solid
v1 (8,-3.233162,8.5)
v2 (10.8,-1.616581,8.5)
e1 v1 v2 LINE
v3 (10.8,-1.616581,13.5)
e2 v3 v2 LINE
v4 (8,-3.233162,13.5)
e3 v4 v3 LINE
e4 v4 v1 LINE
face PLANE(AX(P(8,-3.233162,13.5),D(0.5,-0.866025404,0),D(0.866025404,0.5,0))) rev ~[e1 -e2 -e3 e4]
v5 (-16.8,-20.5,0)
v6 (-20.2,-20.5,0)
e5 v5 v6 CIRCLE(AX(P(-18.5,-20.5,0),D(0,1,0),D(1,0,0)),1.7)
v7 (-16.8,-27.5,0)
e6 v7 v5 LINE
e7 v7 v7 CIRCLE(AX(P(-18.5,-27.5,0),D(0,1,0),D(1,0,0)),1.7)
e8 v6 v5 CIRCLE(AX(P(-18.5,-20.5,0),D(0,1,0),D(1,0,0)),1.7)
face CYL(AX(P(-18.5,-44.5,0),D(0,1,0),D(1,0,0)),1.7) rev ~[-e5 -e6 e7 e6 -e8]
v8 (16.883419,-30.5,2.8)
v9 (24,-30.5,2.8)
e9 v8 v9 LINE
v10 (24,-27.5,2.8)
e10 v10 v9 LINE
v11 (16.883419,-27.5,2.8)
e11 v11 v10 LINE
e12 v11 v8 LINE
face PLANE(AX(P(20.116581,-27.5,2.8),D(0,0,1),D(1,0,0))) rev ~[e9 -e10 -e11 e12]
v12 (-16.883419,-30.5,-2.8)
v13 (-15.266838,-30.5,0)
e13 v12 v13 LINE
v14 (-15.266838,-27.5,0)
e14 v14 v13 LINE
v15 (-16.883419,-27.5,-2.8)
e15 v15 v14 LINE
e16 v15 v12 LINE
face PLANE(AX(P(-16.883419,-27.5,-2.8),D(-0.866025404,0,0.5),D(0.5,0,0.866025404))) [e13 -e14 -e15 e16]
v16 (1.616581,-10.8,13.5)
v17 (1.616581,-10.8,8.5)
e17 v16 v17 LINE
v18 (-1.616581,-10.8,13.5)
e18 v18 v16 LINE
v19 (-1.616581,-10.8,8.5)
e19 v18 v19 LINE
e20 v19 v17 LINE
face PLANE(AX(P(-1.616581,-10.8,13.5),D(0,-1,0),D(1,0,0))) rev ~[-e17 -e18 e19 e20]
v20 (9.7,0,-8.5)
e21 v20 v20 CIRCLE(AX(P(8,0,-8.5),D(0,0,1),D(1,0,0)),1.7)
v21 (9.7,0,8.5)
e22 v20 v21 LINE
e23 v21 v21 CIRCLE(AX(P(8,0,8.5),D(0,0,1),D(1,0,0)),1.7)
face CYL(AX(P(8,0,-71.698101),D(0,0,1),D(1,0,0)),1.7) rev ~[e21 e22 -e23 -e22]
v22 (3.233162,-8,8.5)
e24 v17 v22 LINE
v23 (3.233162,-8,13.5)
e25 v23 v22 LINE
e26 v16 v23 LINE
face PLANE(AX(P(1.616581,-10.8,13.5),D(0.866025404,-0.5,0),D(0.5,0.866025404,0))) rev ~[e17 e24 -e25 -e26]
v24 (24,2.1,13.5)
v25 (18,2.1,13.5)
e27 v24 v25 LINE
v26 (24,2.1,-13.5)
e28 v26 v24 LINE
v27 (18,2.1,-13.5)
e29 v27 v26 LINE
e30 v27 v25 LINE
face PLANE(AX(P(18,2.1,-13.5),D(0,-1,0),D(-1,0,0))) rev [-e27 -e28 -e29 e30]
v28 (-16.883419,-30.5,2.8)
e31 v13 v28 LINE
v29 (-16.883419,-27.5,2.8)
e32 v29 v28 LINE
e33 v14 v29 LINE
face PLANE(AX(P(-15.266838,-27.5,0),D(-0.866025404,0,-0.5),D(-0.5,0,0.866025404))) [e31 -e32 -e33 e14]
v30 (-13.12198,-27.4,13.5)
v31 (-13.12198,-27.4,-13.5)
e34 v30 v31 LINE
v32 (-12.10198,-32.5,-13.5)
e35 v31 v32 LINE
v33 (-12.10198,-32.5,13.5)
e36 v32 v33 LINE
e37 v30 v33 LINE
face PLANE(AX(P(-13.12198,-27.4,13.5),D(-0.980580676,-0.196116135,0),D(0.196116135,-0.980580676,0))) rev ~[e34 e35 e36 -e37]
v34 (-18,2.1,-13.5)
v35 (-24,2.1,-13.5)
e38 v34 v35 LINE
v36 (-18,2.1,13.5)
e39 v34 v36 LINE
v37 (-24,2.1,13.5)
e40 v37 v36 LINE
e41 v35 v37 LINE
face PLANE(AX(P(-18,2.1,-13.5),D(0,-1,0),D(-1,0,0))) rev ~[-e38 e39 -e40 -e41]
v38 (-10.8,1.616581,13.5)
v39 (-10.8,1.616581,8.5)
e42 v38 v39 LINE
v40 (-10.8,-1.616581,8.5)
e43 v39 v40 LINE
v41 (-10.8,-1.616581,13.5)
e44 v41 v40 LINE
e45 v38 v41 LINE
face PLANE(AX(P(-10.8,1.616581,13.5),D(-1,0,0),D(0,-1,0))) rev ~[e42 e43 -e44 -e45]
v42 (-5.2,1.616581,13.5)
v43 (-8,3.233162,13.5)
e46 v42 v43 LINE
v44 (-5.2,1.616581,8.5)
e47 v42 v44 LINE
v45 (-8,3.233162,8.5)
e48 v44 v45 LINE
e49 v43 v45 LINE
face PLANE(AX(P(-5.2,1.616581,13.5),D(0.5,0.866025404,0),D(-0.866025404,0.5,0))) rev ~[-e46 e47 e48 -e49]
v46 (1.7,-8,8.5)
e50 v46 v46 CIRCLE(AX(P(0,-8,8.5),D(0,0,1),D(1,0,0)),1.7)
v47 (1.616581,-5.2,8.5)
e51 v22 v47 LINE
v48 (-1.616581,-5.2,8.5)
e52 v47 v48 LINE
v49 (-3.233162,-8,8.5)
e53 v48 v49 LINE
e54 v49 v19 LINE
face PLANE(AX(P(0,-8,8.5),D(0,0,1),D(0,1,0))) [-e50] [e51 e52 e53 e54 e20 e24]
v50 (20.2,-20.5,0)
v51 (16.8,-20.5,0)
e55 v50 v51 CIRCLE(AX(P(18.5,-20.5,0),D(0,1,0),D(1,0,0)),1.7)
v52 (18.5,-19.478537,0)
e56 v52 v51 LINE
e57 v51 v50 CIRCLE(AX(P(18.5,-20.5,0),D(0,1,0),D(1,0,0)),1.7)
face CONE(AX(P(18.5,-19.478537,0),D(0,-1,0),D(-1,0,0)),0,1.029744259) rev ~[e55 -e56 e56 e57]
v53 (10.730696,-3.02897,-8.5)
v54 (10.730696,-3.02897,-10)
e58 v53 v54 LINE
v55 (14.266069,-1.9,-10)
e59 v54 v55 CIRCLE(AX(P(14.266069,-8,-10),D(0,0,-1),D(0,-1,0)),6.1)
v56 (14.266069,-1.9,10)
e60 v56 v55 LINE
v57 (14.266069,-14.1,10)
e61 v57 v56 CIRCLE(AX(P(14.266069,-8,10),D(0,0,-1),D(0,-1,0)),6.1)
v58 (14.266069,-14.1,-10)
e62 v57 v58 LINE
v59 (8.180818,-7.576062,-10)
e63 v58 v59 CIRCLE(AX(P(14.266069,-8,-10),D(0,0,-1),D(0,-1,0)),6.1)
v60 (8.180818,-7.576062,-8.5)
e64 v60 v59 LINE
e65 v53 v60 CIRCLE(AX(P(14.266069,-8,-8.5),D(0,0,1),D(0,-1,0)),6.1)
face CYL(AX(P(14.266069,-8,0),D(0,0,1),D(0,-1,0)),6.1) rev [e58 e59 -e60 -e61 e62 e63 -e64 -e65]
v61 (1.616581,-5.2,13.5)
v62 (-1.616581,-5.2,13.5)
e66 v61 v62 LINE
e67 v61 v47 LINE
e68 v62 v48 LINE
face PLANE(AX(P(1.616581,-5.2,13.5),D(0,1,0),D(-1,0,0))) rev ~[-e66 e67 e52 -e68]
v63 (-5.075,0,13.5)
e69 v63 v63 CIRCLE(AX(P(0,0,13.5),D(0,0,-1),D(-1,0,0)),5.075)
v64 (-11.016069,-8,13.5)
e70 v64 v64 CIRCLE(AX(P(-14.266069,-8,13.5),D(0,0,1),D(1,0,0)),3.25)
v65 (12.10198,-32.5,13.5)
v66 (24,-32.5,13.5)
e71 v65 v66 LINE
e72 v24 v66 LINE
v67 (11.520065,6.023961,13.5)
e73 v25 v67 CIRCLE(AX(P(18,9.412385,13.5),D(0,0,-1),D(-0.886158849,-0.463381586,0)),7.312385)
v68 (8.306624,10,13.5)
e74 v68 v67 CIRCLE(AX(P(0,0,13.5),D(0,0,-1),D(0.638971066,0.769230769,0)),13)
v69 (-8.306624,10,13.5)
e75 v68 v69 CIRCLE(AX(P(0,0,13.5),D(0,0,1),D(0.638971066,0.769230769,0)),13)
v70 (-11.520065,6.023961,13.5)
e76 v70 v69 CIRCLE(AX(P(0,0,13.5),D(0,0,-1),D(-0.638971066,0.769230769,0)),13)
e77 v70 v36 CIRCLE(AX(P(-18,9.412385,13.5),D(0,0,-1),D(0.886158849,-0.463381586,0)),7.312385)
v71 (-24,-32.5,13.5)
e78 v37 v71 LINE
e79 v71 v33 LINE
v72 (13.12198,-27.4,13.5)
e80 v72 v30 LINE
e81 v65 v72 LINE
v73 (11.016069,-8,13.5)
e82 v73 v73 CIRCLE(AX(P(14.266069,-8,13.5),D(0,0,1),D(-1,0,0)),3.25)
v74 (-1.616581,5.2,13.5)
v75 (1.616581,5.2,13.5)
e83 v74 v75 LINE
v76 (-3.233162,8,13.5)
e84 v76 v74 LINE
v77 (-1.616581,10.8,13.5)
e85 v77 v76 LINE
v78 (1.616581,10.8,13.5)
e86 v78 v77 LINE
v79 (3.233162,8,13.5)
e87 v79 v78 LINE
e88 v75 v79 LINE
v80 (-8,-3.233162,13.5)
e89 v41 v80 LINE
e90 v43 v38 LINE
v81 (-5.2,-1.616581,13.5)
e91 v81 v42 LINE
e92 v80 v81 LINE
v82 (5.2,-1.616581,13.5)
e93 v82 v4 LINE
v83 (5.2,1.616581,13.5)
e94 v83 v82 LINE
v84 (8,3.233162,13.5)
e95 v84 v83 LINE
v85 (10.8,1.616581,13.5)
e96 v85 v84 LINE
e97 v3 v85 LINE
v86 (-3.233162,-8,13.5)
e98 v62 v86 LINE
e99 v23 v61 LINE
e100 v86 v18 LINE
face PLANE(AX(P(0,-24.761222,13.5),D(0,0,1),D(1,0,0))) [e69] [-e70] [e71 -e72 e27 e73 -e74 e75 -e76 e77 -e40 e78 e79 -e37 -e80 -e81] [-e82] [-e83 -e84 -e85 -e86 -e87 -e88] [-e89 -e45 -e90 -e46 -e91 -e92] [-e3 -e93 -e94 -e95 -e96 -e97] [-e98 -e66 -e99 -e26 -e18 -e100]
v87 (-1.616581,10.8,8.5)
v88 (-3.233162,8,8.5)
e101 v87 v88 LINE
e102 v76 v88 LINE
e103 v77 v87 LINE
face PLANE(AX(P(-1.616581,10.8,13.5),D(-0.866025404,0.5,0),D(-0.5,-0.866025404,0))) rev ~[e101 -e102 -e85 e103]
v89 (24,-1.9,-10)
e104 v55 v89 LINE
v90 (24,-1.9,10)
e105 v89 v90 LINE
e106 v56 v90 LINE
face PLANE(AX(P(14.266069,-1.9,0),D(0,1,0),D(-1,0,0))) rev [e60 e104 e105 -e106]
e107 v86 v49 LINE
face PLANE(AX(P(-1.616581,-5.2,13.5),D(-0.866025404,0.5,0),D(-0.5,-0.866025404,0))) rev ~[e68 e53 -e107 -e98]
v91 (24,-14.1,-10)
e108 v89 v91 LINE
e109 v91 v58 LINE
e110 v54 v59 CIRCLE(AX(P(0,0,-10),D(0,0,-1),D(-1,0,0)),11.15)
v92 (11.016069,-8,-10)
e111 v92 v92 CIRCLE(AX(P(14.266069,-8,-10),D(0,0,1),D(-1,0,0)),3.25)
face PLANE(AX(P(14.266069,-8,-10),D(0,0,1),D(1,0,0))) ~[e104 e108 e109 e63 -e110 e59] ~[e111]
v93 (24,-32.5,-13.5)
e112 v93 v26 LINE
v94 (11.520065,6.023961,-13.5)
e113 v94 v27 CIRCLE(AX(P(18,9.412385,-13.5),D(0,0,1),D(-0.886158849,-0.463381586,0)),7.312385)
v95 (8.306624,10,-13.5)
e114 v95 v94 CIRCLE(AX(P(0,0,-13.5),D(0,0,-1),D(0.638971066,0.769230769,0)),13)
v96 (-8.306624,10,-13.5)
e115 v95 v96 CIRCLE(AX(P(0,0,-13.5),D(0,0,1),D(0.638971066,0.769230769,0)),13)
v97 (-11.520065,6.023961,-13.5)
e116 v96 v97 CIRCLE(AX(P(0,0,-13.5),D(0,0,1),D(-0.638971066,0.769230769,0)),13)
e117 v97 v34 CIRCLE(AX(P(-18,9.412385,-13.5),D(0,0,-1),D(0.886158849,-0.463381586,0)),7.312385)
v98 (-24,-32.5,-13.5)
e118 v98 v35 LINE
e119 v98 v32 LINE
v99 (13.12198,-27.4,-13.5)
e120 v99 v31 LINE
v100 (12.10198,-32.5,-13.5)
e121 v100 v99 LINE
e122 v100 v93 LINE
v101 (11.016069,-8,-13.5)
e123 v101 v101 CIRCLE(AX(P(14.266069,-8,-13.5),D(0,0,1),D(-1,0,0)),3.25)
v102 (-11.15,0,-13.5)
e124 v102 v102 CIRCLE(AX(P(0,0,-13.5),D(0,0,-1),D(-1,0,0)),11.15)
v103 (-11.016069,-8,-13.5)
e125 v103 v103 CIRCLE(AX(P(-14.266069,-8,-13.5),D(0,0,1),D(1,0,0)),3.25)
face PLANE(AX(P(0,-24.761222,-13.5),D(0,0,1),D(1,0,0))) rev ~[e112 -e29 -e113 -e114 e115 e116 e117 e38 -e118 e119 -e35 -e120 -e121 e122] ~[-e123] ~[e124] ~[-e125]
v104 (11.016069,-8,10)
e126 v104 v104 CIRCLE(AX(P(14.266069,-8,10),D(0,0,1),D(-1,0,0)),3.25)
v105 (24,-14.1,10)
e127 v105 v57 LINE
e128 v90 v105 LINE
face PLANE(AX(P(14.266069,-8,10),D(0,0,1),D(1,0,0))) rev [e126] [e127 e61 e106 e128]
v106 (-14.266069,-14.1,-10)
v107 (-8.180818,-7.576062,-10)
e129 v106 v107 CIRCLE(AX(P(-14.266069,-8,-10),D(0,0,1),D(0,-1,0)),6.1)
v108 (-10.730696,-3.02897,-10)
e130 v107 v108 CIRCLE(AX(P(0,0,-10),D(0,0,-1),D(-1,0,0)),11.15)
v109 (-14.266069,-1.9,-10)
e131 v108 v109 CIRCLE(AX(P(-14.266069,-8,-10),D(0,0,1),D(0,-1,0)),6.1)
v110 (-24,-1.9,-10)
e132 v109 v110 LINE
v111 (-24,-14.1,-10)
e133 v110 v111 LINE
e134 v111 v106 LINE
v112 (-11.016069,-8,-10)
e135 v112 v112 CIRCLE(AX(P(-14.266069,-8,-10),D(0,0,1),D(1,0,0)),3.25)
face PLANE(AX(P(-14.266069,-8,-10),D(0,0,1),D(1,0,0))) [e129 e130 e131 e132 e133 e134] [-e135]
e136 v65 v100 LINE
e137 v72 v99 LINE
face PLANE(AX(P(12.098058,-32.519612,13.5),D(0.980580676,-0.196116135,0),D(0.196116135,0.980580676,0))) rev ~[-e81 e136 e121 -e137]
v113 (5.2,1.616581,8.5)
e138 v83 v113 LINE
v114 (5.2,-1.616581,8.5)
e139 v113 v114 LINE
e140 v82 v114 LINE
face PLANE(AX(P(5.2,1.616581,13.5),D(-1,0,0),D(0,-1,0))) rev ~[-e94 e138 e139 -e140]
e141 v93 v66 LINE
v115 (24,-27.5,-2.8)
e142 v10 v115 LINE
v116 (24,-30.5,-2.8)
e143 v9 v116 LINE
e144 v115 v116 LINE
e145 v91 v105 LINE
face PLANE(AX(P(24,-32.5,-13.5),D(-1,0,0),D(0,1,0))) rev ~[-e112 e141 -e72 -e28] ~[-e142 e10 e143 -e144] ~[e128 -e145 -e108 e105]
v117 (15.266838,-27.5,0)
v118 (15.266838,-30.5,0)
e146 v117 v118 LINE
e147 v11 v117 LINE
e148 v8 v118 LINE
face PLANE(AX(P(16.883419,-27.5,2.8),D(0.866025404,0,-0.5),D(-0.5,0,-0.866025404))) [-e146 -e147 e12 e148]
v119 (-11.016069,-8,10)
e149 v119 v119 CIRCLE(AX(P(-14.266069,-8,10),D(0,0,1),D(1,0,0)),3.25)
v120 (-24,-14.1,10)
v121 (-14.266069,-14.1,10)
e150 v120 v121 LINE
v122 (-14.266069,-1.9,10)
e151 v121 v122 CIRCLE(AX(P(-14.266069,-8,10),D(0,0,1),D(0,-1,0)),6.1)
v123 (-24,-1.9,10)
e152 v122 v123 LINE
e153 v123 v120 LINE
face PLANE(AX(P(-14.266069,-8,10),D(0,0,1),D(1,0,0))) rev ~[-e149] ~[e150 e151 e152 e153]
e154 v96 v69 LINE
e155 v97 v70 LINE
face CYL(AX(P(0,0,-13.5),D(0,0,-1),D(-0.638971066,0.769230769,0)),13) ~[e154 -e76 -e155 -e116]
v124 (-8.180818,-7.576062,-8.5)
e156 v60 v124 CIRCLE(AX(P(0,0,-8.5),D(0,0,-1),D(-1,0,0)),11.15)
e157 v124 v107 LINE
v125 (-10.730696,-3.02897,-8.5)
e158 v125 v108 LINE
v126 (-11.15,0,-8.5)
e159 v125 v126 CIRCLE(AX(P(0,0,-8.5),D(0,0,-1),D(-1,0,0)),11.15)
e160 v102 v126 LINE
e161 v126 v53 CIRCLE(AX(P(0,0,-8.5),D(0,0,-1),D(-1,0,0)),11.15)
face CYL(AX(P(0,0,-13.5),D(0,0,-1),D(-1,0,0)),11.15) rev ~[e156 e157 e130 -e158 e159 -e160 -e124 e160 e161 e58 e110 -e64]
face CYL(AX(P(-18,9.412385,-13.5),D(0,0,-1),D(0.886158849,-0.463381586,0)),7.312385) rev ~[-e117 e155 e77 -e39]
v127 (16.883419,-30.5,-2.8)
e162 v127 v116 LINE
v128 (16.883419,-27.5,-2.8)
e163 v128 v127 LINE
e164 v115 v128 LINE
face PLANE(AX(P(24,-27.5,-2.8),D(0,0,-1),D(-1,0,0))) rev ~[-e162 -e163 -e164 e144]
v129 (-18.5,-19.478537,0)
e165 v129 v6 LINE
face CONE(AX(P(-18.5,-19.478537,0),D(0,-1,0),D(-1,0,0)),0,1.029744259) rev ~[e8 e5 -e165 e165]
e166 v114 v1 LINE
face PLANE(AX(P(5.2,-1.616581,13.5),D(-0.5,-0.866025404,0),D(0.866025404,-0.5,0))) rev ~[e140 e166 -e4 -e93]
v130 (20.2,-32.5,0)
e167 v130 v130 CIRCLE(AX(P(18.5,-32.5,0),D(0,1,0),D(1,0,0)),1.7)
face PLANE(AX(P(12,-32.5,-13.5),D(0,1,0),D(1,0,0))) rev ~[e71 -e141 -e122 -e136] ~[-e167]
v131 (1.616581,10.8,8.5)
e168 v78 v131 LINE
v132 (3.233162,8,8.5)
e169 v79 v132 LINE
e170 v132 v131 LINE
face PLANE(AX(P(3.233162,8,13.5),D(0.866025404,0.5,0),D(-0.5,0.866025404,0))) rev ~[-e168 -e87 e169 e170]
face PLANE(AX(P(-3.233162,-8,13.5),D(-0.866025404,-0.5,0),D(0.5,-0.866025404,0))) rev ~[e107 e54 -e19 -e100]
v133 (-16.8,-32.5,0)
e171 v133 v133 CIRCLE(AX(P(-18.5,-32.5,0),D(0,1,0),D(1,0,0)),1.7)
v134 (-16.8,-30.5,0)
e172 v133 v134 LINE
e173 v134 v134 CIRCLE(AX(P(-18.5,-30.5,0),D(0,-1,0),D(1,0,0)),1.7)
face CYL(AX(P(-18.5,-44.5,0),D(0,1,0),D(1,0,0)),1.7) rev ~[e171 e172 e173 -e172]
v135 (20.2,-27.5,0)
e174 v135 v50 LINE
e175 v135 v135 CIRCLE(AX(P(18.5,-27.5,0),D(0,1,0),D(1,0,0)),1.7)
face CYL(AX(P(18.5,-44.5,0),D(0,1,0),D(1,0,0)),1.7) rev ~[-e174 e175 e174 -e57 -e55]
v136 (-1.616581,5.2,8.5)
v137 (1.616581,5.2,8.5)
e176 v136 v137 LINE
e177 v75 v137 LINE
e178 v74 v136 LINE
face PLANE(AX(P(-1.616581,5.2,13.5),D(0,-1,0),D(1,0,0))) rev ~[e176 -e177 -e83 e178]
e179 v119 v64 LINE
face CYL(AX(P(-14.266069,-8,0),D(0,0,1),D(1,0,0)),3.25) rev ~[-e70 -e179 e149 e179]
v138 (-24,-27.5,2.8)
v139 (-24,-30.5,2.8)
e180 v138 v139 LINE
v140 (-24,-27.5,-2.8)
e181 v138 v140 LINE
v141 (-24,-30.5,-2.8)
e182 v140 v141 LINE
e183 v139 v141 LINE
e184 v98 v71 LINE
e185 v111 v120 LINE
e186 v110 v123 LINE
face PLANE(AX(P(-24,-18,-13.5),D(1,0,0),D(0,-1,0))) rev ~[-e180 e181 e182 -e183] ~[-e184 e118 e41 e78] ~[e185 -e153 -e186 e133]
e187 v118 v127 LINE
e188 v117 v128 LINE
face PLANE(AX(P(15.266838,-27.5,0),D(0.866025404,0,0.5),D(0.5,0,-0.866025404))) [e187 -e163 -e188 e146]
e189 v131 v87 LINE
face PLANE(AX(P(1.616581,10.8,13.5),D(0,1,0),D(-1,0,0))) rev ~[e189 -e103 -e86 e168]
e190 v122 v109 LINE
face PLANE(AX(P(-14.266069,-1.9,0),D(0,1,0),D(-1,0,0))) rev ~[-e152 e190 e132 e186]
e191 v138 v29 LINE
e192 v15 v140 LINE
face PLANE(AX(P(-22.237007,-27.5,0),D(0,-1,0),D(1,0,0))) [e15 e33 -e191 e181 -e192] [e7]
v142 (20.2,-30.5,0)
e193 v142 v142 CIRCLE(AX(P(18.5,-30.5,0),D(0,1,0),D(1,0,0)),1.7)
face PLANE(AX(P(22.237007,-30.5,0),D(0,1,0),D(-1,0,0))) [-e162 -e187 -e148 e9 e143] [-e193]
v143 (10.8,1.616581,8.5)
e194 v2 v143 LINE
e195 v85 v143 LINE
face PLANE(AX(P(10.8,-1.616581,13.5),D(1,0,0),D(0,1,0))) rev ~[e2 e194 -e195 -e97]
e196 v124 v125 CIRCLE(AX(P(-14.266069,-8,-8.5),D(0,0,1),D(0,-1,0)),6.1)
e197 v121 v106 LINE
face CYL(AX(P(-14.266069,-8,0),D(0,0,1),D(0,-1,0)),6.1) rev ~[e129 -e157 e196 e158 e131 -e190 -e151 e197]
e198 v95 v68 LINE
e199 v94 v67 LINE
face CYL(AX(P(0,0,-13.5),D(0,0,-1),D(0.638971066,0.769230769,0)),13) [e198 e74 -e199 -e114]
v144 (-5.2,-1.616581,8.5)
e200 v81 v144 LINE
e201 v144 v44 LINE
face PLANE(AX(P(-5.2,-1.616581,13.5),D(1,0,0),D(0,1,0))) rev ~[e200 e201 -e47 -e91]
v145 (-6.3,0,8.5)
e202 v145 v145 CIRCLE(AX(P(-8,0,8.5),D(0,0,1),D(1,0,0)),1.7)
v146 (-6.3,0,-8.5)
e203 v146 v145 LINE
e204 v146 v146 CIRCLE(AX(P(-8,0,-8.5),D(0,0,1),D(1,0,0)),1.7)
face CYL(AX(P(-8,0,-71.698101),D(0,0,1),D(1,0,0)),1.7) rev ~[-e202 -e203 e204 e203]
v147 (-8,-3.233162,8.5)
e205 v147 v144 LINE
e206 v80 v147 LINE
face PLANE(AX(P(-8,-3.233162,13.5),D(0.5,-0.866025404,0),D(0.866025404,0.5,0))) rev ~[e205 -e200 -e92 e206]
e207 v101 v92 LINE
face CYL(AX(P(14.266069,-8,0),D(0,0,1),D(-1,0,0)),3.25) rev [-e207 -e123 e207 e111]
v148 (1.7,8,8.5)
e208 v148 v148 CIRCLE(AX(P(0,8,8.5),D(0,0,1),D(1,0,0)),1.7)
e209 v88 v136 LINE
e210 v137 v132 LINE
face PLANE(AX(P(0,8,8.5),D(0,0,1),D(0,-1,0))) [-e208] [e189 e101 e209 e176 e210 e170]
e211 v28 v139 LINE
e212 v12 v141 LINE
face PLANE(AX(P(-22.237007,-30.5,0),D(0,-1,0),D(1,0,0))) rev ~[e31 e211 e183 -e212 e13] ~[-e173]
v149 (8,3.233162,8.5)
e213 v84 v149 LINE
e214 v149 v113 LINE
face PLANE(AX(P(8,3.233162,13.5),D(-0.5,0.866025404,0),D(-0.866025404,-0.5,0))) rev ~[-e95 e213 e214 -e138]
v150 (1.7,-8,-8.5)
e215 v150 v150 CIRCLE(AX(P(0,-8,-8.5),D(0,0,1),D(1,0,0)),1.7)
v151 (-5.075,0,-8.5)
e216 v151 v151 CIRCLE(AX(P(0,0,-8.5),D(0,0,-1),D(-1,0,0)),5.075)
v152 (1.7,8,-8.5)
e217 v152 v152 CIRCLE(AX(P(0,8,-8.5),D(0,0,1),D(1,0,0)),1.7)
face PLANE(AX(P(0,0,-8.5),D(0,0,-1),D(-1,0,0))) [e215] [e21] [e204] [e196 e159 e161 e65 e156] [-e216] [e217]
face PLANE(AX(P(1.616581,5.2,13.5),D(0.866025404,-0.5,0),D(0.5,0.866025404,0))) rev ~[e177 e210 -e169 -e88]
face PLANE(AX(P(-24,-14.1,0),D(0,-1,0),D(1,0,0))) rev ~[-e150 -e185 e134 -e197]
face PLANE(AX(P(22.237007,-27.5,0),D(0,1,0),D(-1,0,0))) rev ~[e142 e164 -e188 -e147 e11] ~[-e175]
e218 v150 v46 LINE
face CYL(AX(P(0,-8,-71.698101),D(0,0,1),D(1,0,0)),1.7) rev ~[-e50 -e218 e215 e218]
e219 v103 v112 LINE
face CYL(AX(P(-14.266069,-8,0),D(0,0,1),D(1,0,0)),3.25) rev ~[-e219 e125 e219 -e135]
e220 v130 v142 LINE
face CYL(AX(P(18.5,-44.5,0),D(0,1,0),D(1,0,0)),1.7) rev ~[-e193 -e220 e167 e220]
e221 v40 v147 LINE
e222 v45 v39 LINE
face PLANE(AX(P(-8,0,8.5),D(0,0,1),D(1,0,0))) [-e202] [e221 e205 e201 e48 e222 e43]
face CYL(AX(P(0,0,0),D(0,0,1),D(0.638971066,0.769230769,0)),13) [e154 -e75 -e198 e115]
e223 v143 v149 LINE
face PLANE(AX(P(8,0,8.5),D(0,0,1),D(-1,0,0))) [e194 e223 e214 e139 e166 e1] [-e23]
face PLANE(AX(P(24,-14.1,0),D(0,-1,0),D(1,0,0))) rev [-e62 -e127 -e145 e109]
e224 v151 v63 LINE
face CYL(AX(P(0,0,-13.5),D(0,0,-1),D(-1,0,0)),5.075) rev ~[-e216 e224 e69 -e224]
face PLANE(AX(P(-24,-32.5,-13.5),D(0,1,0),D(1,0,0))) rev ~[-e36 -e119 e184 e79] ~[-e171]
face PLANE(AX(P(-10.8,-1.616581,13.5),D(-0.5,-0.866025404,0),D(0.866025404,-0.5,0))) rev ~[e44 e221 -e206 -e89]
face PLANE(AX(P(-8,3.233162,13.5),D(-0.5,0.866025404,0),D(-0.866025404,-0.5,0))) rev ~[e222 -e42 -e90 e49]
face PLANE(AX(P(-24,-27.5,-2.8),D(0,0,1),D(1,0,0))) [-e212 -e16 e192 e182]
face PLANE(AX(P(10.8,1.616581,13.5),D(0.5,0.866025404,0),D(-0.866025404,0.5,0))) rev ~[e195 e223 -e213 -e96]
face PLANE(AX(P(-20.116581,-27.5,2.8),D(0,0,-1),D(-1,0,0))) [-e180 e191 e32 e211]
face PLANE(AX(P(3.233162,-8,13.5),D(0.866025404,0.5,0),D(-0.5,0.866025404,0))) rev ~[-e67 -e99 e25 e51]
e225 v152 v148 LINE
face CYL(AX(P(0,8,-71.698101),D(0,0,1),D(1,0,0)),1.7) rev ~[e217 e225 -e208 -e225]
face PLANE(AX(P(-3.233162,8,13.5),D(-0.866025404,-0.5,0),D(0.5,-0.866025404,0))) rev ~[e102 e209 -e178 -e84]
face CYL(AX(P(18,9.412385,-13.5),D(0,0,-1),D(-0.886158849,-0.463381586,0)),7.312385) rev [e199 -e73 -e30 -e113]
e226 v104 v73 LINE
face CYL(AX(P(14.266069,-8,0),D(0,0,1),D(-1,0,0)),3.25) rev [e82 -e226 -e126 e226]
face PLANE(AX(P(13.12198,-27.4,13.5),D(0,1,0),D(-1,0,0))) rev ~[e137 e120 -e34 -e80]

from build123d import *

# Parameters (mm, degrees)
SKETCH1_R                = 13
SKETCH1_W                = 48
SKETCH1_H                = 8
BOSS_EXTRUDE1_DEPTH      = 13.5
SKETCH2_R                = 11.15
CUT_EXTRUDE1_DEPTH       = 5
SKETCH2_3_R              = 5.075
CUT_EXTRUDE2_DEPTH       = 41.360872141
SKETCH3_R                = 6.1
CUT_EXTRUDE3_DEPTH       = 10
CUT_EXTRUDE4_DEPTH       = 41.360872141
SKETCH5_R                = 3.25
CUT_EXTRUDE5_DEPTH       = 33.897568299
M3_CLEARANCE_HOLE1_D     = 3.4
CUT_EXTRUDE6_DEPTH       = 5
CIRPATTERN1_COUNT        = 4
BOSS_EXTRUDE2_START      = -13.5
BOSS_EXTRUDE2_DEPTH      = 27
M3_CLEARANCE_HOLE2_D     = 3.4
M3_CLEARANCE_HOLE2_DEPTH = 12
M3_CLEARANCE_HOLE2_TIP   = 1.021463052
CUT_EXTRUDE7_START       = -5
SKETCH12_R               = 1.7
CUT_EXTRUDE7_DEPTH       = 3
CUT_EXTRUDE8_DEPTH       = 49.592694924


with BuildPart() as part:
    # Sketch1 → Boss-Extrude1 (new, symmetric)
    with BuildSketch(Plane.XY):
        with BuildLine():
            ThreePointArc((-8.306623863, 10), (-13, 0), (-8.306623863, -10))
            Line((-8.306623863, -10), (8.306623863, -10))
            ThreePointArc((8.306623863, -10), (11.768307232, -5.523309234), (13, 0))
            ThreePointArc((13, 0), (11.768307232, 5.523309234), (8.306623863, 10))
            Line((8.306623863, 10), (-8.306623863, 10))
        make_face()
        with BuildLine():
            ThreePointArc((8.306623863, 10), (0, 13), (-8.306623863, 10))
            Line((-8.306623863, 10), (8.306623863, 10))
        make_face()
        with BuildLine():
            ThreePointArc((13, 0), (11.768307232, -5.523309234), (8.306623863, -10))
            Line((8.306623863, -10), (24, -10))
            Line((24, -10), (24, 10))
            Line((24, 10), (8.306623863, 10))
            ThreePointArc((8.306623863, 10), (11.768307232, 5.523309234), (13, 0))
        make_face()
        with BuildLine():
            Line((8.306623863, -10), (-8.306623863, -10))
            ThreePointArc((-8.306623863, -10), (0, -13), (8.306623863, -10))
        make_face()
        with BuildLine():
            Line((-24, 10), (-24, -10))
            Line((-24, -10), (-8.306623863, -10))
            ThreePointArc((-8.306623863, -10), (-13, 0), (-8.306623863, 10))
            Line((-8.306623863, 10), (-24, 10))
        make_face()
        Circle(SKETCH1_R)
        with Locations((0, -14)):
            Rectangle(SKETCH1_W, SKETCH1_H)
    extrude(amount=BOSS_EXTRUDE1_DEPTH, both=True)

    # Sketch2 → Cut-Extrude1 (cut)
    with BuildSketch(Plane(origin=(0, 0, -13.5), x_dir=(-1, 0, 0), z_dir=(0, 0, -1))):
        Circle(SKETCH2_R)
    extrude(amount=-CUT_EXTRUDE1_DEPTH, mode=Mode.SUBTRACT)

    # Sketch2<3> → Cut-Extrude2 (cut, through all)
    with BuildSketch(Plane(origin=(0, 0, -13.5), x_dir=(-1, 0, 0), z_dir=(0, 0, -1))):
        Circle(SKETCH2_3_R)
    extrude(amount=-CUT_EXTRUDE2_DEPTH, mode=Mode.SUBTRACT)

    # Sketch3 → Cut-Extrude3 (cut, symmetric)
    with BuildSketch(Plane.XY):
        with Locations((-14.26606865, -8)):
            Circle(SKETCH3_R)
        with BuildLine():
            ThreePointArc((-14.26606865, -14.1), (-20.36606865, -8), (-14.26606865, -1.9))
            Line((-14.26606865, -1.9), (-24, -1.9))
            Line((-24, -1.9), (-24, -14.1))
            Line((-24, -14.1), (-14.26606865, -14.1))
        make_face()
    cut_extrude3 = extrude(amount=CUT_EXTRUDE3_DEPTH, both=True, mode=Mode.SUBTRACT)

    # Sketch4 → Cut-Extrude4 (cut, through all)
    with BuildSketch(Plane(origin=(0, 0, -13.5), x_dir=(-1, 0, 0), z_dir=(0, 0, -1))):
        with BuildLine():
            Line((18, 2.1), (24, 2.1))
            Line((24, 2.1), (24, 10))
            Line((24, 10), (8.306623863, 10))
            ThreePointArc((8.306623863, 10), (10.1107181, 8.171497996), (11.520065039, 6.023960615))
            ThreePointArc((11.520065039, 6.023960615), (14.212288818, 3.157449424), (18, 2.1))
        make_face()
    cut_extrude4 = extrude(amount=-CUT_EXTRUDE4_DEPTH, mode=Mode.SUBTRACT)

    # Sketch5 → Cut-Extrude5 (cut, symmetric)
    with BuildSketch(Plane.XY):
        with Locations((-14.26606865, -8)):
            Circle(SKETCH5_R)
    cut_extrude5 = extrude(amount=CUT_EXTRUDE5_DEPTH, both=True, mode=Mode.SUBTRACT)

    # Mirror1: Cut-Extrude3, Cut-Extrude4, Cut-Extrude5 across plane
    add(cut_extrude3.mirror(Plane(origin=(0, 0, 0), x_dir=(0, 0, 1), z_dir=(1, 0, 0))), mode=Mode.SUBTRACT)
    add(cut_extrude4.mirror(Plane(origin=(0, 0, 0), x_dir=(0, 0, 1), z_dir=(1, 0, 0))), mode=Mode.SUBTRACT)
    add(cut_extrude5.mirror(Plane(origin=(0, 0, 0), x_dir=(0, 0, 1), z_dir=(1, 0, 0))), mode=Mode.SUBTRACT)

    # M3 Clearance Hole1 (through all)
    with Locations(Plane(origin=(0, 0, -8.5), x_dir=(-1, 0, 0), z_dir=(0, 0, -1))):
        with Locations((0, -8), (-8, 0), (0, 8), (8, 0)):
            Hole(M3_CLEARANCE_HOLE1_D / 2)

    # Sketch8 → Cut-Extrude6 (cut)
    with BuildSketch(Plane.XY.offset(13.5)):
        Polygon((-10.8, -1.616580754), (-8, -3.233161507), (-5.2, -1.616580754), (-5.2, 1.616580754), (-8, 3.233161507), (-10.8, 1.616580754), align=None)
    cut_extrude6 = extrude(amount=-CUT_EXTRUDE6_DEPTH, mode=Mode.SUBTRACT)

    # CirPattern1: Cut-Extrude6 ×4 about axis
    cirpattern1_axis = Axis((0, 0, 0), (0, 0, 1))
    for i in range(1, CIRPATTERN1_COUNT):
        add(cut_extrude6.rotate(cirpattern1_axis, i * 360 / CIRPATTERN1_COUNT), mode=Mode.SUBTRACT)

    # Sketch9 → Boss-Extrude2 (add)
    with BuildSketch(Plane.XY.offset(BOSS_EXTRUDE2_START)):
        Polygon((12, -32.5), (24, -32.5), (24, -18), (-24, -18), (-24, -32.5), (-12, -32.5), (-13, -27.5), (13, -27.5), align=None)
    extrude(amount=BOSS_EXTRUDE2_DEPTH)

    # M3 Clearance Hole2
    with Locations(Plane(origin=(0, -32.5, 0), x_dir=(-1, 0, 0), z_dir=(0, -1, 0))):
        with Locations((-18.5, 0), (18.5, 0)):
            Hole(M3_CLEARANCE_HOLE2_D / 2, depth=M3_CLEARANCE_HOLE2_DEPTH)
            with Locations((0, 0, -(M3_CLEARANCE_HOLE2_DEPTH + M3_CLEARANCE_HOLE2_TIP / 2))):  # 118° drill point
                Cone(0, M3_CLEARANCE_HOLE2_D / 2, M3_CLEARANCE_HOLE2_TIP, mode=Mode.SUBTRACT)

    # Sketch12 → Cut-Extrude7 (cut)
    # profile 1 of 4: a face of its own
    with BuildSketch(Plane.XZ.offset(32.5).offset(CUT_EXTRUDE7_START)):
        Polygon((20.116580754, -2.8), (21.733161507, 0), (20.116580754, 2.8), (16.883419246, 2.8), (15.266838493, 0), (16.883419246, -2.8), align=None)
    # profile 2 of 4: a face of its own
    with BuildSketch(Plane.XZ.offset(32.5).offset(CUT_EXTRUDE7_START)):
        Polygon((24, -2.8), (20.116580754, -2.8), (21.733161507, 0), (20.116580754, 2.8), (24, 2.8), align=None)
    # profile 3 of 4: a face of its own
    with BuildSketch(Plane.XZ.offset(32.5).offset(CUT_EXTRUDE7_START)):
        Polygon((-15.266838493, 0), (-16.883419246, 2.8), (-20.116580754, 2.8), (-21.733161507, 0), (-20.116580754, -2.8), (-16.883419246, -2.8), align=None)
        with Locations(Location((-18.5, 0, 0), (0, 0, 270))):
            Circle(SKETCH12_R, mode=Mode.SUBTRACT)
    # profile 4 of 4: a face of its own
    with BuildSketch(Plane.XZ.offset(32.5).offset(CUT_EXTRUDE7_START)):
        Polygon((-21.733161507, 0), (-20.116580754, 2.8), (-24, 2.8), (-24, -2.8), (-20.116580754, -2.8), align=None)
    extrude(amount=CUT_EXTRUDE7_DEPTH, mode=Mode.SUBTRACT)

    # Sketch13 → Cut-Extrude8 (cut, through all)
    with BuildSketch(Plane.XY.offset(13.5)):
        Polygon((-12.098058068, -32.519611614), (12.098058068, -32.519611614), (13.12198039, -27.4), (-13.12198039, -27.4), align=None)
    extrude(amount=-CUT_EXTRUDE8_DEPTH, mode=Mode.SUBTRACT)


solid = part.part
